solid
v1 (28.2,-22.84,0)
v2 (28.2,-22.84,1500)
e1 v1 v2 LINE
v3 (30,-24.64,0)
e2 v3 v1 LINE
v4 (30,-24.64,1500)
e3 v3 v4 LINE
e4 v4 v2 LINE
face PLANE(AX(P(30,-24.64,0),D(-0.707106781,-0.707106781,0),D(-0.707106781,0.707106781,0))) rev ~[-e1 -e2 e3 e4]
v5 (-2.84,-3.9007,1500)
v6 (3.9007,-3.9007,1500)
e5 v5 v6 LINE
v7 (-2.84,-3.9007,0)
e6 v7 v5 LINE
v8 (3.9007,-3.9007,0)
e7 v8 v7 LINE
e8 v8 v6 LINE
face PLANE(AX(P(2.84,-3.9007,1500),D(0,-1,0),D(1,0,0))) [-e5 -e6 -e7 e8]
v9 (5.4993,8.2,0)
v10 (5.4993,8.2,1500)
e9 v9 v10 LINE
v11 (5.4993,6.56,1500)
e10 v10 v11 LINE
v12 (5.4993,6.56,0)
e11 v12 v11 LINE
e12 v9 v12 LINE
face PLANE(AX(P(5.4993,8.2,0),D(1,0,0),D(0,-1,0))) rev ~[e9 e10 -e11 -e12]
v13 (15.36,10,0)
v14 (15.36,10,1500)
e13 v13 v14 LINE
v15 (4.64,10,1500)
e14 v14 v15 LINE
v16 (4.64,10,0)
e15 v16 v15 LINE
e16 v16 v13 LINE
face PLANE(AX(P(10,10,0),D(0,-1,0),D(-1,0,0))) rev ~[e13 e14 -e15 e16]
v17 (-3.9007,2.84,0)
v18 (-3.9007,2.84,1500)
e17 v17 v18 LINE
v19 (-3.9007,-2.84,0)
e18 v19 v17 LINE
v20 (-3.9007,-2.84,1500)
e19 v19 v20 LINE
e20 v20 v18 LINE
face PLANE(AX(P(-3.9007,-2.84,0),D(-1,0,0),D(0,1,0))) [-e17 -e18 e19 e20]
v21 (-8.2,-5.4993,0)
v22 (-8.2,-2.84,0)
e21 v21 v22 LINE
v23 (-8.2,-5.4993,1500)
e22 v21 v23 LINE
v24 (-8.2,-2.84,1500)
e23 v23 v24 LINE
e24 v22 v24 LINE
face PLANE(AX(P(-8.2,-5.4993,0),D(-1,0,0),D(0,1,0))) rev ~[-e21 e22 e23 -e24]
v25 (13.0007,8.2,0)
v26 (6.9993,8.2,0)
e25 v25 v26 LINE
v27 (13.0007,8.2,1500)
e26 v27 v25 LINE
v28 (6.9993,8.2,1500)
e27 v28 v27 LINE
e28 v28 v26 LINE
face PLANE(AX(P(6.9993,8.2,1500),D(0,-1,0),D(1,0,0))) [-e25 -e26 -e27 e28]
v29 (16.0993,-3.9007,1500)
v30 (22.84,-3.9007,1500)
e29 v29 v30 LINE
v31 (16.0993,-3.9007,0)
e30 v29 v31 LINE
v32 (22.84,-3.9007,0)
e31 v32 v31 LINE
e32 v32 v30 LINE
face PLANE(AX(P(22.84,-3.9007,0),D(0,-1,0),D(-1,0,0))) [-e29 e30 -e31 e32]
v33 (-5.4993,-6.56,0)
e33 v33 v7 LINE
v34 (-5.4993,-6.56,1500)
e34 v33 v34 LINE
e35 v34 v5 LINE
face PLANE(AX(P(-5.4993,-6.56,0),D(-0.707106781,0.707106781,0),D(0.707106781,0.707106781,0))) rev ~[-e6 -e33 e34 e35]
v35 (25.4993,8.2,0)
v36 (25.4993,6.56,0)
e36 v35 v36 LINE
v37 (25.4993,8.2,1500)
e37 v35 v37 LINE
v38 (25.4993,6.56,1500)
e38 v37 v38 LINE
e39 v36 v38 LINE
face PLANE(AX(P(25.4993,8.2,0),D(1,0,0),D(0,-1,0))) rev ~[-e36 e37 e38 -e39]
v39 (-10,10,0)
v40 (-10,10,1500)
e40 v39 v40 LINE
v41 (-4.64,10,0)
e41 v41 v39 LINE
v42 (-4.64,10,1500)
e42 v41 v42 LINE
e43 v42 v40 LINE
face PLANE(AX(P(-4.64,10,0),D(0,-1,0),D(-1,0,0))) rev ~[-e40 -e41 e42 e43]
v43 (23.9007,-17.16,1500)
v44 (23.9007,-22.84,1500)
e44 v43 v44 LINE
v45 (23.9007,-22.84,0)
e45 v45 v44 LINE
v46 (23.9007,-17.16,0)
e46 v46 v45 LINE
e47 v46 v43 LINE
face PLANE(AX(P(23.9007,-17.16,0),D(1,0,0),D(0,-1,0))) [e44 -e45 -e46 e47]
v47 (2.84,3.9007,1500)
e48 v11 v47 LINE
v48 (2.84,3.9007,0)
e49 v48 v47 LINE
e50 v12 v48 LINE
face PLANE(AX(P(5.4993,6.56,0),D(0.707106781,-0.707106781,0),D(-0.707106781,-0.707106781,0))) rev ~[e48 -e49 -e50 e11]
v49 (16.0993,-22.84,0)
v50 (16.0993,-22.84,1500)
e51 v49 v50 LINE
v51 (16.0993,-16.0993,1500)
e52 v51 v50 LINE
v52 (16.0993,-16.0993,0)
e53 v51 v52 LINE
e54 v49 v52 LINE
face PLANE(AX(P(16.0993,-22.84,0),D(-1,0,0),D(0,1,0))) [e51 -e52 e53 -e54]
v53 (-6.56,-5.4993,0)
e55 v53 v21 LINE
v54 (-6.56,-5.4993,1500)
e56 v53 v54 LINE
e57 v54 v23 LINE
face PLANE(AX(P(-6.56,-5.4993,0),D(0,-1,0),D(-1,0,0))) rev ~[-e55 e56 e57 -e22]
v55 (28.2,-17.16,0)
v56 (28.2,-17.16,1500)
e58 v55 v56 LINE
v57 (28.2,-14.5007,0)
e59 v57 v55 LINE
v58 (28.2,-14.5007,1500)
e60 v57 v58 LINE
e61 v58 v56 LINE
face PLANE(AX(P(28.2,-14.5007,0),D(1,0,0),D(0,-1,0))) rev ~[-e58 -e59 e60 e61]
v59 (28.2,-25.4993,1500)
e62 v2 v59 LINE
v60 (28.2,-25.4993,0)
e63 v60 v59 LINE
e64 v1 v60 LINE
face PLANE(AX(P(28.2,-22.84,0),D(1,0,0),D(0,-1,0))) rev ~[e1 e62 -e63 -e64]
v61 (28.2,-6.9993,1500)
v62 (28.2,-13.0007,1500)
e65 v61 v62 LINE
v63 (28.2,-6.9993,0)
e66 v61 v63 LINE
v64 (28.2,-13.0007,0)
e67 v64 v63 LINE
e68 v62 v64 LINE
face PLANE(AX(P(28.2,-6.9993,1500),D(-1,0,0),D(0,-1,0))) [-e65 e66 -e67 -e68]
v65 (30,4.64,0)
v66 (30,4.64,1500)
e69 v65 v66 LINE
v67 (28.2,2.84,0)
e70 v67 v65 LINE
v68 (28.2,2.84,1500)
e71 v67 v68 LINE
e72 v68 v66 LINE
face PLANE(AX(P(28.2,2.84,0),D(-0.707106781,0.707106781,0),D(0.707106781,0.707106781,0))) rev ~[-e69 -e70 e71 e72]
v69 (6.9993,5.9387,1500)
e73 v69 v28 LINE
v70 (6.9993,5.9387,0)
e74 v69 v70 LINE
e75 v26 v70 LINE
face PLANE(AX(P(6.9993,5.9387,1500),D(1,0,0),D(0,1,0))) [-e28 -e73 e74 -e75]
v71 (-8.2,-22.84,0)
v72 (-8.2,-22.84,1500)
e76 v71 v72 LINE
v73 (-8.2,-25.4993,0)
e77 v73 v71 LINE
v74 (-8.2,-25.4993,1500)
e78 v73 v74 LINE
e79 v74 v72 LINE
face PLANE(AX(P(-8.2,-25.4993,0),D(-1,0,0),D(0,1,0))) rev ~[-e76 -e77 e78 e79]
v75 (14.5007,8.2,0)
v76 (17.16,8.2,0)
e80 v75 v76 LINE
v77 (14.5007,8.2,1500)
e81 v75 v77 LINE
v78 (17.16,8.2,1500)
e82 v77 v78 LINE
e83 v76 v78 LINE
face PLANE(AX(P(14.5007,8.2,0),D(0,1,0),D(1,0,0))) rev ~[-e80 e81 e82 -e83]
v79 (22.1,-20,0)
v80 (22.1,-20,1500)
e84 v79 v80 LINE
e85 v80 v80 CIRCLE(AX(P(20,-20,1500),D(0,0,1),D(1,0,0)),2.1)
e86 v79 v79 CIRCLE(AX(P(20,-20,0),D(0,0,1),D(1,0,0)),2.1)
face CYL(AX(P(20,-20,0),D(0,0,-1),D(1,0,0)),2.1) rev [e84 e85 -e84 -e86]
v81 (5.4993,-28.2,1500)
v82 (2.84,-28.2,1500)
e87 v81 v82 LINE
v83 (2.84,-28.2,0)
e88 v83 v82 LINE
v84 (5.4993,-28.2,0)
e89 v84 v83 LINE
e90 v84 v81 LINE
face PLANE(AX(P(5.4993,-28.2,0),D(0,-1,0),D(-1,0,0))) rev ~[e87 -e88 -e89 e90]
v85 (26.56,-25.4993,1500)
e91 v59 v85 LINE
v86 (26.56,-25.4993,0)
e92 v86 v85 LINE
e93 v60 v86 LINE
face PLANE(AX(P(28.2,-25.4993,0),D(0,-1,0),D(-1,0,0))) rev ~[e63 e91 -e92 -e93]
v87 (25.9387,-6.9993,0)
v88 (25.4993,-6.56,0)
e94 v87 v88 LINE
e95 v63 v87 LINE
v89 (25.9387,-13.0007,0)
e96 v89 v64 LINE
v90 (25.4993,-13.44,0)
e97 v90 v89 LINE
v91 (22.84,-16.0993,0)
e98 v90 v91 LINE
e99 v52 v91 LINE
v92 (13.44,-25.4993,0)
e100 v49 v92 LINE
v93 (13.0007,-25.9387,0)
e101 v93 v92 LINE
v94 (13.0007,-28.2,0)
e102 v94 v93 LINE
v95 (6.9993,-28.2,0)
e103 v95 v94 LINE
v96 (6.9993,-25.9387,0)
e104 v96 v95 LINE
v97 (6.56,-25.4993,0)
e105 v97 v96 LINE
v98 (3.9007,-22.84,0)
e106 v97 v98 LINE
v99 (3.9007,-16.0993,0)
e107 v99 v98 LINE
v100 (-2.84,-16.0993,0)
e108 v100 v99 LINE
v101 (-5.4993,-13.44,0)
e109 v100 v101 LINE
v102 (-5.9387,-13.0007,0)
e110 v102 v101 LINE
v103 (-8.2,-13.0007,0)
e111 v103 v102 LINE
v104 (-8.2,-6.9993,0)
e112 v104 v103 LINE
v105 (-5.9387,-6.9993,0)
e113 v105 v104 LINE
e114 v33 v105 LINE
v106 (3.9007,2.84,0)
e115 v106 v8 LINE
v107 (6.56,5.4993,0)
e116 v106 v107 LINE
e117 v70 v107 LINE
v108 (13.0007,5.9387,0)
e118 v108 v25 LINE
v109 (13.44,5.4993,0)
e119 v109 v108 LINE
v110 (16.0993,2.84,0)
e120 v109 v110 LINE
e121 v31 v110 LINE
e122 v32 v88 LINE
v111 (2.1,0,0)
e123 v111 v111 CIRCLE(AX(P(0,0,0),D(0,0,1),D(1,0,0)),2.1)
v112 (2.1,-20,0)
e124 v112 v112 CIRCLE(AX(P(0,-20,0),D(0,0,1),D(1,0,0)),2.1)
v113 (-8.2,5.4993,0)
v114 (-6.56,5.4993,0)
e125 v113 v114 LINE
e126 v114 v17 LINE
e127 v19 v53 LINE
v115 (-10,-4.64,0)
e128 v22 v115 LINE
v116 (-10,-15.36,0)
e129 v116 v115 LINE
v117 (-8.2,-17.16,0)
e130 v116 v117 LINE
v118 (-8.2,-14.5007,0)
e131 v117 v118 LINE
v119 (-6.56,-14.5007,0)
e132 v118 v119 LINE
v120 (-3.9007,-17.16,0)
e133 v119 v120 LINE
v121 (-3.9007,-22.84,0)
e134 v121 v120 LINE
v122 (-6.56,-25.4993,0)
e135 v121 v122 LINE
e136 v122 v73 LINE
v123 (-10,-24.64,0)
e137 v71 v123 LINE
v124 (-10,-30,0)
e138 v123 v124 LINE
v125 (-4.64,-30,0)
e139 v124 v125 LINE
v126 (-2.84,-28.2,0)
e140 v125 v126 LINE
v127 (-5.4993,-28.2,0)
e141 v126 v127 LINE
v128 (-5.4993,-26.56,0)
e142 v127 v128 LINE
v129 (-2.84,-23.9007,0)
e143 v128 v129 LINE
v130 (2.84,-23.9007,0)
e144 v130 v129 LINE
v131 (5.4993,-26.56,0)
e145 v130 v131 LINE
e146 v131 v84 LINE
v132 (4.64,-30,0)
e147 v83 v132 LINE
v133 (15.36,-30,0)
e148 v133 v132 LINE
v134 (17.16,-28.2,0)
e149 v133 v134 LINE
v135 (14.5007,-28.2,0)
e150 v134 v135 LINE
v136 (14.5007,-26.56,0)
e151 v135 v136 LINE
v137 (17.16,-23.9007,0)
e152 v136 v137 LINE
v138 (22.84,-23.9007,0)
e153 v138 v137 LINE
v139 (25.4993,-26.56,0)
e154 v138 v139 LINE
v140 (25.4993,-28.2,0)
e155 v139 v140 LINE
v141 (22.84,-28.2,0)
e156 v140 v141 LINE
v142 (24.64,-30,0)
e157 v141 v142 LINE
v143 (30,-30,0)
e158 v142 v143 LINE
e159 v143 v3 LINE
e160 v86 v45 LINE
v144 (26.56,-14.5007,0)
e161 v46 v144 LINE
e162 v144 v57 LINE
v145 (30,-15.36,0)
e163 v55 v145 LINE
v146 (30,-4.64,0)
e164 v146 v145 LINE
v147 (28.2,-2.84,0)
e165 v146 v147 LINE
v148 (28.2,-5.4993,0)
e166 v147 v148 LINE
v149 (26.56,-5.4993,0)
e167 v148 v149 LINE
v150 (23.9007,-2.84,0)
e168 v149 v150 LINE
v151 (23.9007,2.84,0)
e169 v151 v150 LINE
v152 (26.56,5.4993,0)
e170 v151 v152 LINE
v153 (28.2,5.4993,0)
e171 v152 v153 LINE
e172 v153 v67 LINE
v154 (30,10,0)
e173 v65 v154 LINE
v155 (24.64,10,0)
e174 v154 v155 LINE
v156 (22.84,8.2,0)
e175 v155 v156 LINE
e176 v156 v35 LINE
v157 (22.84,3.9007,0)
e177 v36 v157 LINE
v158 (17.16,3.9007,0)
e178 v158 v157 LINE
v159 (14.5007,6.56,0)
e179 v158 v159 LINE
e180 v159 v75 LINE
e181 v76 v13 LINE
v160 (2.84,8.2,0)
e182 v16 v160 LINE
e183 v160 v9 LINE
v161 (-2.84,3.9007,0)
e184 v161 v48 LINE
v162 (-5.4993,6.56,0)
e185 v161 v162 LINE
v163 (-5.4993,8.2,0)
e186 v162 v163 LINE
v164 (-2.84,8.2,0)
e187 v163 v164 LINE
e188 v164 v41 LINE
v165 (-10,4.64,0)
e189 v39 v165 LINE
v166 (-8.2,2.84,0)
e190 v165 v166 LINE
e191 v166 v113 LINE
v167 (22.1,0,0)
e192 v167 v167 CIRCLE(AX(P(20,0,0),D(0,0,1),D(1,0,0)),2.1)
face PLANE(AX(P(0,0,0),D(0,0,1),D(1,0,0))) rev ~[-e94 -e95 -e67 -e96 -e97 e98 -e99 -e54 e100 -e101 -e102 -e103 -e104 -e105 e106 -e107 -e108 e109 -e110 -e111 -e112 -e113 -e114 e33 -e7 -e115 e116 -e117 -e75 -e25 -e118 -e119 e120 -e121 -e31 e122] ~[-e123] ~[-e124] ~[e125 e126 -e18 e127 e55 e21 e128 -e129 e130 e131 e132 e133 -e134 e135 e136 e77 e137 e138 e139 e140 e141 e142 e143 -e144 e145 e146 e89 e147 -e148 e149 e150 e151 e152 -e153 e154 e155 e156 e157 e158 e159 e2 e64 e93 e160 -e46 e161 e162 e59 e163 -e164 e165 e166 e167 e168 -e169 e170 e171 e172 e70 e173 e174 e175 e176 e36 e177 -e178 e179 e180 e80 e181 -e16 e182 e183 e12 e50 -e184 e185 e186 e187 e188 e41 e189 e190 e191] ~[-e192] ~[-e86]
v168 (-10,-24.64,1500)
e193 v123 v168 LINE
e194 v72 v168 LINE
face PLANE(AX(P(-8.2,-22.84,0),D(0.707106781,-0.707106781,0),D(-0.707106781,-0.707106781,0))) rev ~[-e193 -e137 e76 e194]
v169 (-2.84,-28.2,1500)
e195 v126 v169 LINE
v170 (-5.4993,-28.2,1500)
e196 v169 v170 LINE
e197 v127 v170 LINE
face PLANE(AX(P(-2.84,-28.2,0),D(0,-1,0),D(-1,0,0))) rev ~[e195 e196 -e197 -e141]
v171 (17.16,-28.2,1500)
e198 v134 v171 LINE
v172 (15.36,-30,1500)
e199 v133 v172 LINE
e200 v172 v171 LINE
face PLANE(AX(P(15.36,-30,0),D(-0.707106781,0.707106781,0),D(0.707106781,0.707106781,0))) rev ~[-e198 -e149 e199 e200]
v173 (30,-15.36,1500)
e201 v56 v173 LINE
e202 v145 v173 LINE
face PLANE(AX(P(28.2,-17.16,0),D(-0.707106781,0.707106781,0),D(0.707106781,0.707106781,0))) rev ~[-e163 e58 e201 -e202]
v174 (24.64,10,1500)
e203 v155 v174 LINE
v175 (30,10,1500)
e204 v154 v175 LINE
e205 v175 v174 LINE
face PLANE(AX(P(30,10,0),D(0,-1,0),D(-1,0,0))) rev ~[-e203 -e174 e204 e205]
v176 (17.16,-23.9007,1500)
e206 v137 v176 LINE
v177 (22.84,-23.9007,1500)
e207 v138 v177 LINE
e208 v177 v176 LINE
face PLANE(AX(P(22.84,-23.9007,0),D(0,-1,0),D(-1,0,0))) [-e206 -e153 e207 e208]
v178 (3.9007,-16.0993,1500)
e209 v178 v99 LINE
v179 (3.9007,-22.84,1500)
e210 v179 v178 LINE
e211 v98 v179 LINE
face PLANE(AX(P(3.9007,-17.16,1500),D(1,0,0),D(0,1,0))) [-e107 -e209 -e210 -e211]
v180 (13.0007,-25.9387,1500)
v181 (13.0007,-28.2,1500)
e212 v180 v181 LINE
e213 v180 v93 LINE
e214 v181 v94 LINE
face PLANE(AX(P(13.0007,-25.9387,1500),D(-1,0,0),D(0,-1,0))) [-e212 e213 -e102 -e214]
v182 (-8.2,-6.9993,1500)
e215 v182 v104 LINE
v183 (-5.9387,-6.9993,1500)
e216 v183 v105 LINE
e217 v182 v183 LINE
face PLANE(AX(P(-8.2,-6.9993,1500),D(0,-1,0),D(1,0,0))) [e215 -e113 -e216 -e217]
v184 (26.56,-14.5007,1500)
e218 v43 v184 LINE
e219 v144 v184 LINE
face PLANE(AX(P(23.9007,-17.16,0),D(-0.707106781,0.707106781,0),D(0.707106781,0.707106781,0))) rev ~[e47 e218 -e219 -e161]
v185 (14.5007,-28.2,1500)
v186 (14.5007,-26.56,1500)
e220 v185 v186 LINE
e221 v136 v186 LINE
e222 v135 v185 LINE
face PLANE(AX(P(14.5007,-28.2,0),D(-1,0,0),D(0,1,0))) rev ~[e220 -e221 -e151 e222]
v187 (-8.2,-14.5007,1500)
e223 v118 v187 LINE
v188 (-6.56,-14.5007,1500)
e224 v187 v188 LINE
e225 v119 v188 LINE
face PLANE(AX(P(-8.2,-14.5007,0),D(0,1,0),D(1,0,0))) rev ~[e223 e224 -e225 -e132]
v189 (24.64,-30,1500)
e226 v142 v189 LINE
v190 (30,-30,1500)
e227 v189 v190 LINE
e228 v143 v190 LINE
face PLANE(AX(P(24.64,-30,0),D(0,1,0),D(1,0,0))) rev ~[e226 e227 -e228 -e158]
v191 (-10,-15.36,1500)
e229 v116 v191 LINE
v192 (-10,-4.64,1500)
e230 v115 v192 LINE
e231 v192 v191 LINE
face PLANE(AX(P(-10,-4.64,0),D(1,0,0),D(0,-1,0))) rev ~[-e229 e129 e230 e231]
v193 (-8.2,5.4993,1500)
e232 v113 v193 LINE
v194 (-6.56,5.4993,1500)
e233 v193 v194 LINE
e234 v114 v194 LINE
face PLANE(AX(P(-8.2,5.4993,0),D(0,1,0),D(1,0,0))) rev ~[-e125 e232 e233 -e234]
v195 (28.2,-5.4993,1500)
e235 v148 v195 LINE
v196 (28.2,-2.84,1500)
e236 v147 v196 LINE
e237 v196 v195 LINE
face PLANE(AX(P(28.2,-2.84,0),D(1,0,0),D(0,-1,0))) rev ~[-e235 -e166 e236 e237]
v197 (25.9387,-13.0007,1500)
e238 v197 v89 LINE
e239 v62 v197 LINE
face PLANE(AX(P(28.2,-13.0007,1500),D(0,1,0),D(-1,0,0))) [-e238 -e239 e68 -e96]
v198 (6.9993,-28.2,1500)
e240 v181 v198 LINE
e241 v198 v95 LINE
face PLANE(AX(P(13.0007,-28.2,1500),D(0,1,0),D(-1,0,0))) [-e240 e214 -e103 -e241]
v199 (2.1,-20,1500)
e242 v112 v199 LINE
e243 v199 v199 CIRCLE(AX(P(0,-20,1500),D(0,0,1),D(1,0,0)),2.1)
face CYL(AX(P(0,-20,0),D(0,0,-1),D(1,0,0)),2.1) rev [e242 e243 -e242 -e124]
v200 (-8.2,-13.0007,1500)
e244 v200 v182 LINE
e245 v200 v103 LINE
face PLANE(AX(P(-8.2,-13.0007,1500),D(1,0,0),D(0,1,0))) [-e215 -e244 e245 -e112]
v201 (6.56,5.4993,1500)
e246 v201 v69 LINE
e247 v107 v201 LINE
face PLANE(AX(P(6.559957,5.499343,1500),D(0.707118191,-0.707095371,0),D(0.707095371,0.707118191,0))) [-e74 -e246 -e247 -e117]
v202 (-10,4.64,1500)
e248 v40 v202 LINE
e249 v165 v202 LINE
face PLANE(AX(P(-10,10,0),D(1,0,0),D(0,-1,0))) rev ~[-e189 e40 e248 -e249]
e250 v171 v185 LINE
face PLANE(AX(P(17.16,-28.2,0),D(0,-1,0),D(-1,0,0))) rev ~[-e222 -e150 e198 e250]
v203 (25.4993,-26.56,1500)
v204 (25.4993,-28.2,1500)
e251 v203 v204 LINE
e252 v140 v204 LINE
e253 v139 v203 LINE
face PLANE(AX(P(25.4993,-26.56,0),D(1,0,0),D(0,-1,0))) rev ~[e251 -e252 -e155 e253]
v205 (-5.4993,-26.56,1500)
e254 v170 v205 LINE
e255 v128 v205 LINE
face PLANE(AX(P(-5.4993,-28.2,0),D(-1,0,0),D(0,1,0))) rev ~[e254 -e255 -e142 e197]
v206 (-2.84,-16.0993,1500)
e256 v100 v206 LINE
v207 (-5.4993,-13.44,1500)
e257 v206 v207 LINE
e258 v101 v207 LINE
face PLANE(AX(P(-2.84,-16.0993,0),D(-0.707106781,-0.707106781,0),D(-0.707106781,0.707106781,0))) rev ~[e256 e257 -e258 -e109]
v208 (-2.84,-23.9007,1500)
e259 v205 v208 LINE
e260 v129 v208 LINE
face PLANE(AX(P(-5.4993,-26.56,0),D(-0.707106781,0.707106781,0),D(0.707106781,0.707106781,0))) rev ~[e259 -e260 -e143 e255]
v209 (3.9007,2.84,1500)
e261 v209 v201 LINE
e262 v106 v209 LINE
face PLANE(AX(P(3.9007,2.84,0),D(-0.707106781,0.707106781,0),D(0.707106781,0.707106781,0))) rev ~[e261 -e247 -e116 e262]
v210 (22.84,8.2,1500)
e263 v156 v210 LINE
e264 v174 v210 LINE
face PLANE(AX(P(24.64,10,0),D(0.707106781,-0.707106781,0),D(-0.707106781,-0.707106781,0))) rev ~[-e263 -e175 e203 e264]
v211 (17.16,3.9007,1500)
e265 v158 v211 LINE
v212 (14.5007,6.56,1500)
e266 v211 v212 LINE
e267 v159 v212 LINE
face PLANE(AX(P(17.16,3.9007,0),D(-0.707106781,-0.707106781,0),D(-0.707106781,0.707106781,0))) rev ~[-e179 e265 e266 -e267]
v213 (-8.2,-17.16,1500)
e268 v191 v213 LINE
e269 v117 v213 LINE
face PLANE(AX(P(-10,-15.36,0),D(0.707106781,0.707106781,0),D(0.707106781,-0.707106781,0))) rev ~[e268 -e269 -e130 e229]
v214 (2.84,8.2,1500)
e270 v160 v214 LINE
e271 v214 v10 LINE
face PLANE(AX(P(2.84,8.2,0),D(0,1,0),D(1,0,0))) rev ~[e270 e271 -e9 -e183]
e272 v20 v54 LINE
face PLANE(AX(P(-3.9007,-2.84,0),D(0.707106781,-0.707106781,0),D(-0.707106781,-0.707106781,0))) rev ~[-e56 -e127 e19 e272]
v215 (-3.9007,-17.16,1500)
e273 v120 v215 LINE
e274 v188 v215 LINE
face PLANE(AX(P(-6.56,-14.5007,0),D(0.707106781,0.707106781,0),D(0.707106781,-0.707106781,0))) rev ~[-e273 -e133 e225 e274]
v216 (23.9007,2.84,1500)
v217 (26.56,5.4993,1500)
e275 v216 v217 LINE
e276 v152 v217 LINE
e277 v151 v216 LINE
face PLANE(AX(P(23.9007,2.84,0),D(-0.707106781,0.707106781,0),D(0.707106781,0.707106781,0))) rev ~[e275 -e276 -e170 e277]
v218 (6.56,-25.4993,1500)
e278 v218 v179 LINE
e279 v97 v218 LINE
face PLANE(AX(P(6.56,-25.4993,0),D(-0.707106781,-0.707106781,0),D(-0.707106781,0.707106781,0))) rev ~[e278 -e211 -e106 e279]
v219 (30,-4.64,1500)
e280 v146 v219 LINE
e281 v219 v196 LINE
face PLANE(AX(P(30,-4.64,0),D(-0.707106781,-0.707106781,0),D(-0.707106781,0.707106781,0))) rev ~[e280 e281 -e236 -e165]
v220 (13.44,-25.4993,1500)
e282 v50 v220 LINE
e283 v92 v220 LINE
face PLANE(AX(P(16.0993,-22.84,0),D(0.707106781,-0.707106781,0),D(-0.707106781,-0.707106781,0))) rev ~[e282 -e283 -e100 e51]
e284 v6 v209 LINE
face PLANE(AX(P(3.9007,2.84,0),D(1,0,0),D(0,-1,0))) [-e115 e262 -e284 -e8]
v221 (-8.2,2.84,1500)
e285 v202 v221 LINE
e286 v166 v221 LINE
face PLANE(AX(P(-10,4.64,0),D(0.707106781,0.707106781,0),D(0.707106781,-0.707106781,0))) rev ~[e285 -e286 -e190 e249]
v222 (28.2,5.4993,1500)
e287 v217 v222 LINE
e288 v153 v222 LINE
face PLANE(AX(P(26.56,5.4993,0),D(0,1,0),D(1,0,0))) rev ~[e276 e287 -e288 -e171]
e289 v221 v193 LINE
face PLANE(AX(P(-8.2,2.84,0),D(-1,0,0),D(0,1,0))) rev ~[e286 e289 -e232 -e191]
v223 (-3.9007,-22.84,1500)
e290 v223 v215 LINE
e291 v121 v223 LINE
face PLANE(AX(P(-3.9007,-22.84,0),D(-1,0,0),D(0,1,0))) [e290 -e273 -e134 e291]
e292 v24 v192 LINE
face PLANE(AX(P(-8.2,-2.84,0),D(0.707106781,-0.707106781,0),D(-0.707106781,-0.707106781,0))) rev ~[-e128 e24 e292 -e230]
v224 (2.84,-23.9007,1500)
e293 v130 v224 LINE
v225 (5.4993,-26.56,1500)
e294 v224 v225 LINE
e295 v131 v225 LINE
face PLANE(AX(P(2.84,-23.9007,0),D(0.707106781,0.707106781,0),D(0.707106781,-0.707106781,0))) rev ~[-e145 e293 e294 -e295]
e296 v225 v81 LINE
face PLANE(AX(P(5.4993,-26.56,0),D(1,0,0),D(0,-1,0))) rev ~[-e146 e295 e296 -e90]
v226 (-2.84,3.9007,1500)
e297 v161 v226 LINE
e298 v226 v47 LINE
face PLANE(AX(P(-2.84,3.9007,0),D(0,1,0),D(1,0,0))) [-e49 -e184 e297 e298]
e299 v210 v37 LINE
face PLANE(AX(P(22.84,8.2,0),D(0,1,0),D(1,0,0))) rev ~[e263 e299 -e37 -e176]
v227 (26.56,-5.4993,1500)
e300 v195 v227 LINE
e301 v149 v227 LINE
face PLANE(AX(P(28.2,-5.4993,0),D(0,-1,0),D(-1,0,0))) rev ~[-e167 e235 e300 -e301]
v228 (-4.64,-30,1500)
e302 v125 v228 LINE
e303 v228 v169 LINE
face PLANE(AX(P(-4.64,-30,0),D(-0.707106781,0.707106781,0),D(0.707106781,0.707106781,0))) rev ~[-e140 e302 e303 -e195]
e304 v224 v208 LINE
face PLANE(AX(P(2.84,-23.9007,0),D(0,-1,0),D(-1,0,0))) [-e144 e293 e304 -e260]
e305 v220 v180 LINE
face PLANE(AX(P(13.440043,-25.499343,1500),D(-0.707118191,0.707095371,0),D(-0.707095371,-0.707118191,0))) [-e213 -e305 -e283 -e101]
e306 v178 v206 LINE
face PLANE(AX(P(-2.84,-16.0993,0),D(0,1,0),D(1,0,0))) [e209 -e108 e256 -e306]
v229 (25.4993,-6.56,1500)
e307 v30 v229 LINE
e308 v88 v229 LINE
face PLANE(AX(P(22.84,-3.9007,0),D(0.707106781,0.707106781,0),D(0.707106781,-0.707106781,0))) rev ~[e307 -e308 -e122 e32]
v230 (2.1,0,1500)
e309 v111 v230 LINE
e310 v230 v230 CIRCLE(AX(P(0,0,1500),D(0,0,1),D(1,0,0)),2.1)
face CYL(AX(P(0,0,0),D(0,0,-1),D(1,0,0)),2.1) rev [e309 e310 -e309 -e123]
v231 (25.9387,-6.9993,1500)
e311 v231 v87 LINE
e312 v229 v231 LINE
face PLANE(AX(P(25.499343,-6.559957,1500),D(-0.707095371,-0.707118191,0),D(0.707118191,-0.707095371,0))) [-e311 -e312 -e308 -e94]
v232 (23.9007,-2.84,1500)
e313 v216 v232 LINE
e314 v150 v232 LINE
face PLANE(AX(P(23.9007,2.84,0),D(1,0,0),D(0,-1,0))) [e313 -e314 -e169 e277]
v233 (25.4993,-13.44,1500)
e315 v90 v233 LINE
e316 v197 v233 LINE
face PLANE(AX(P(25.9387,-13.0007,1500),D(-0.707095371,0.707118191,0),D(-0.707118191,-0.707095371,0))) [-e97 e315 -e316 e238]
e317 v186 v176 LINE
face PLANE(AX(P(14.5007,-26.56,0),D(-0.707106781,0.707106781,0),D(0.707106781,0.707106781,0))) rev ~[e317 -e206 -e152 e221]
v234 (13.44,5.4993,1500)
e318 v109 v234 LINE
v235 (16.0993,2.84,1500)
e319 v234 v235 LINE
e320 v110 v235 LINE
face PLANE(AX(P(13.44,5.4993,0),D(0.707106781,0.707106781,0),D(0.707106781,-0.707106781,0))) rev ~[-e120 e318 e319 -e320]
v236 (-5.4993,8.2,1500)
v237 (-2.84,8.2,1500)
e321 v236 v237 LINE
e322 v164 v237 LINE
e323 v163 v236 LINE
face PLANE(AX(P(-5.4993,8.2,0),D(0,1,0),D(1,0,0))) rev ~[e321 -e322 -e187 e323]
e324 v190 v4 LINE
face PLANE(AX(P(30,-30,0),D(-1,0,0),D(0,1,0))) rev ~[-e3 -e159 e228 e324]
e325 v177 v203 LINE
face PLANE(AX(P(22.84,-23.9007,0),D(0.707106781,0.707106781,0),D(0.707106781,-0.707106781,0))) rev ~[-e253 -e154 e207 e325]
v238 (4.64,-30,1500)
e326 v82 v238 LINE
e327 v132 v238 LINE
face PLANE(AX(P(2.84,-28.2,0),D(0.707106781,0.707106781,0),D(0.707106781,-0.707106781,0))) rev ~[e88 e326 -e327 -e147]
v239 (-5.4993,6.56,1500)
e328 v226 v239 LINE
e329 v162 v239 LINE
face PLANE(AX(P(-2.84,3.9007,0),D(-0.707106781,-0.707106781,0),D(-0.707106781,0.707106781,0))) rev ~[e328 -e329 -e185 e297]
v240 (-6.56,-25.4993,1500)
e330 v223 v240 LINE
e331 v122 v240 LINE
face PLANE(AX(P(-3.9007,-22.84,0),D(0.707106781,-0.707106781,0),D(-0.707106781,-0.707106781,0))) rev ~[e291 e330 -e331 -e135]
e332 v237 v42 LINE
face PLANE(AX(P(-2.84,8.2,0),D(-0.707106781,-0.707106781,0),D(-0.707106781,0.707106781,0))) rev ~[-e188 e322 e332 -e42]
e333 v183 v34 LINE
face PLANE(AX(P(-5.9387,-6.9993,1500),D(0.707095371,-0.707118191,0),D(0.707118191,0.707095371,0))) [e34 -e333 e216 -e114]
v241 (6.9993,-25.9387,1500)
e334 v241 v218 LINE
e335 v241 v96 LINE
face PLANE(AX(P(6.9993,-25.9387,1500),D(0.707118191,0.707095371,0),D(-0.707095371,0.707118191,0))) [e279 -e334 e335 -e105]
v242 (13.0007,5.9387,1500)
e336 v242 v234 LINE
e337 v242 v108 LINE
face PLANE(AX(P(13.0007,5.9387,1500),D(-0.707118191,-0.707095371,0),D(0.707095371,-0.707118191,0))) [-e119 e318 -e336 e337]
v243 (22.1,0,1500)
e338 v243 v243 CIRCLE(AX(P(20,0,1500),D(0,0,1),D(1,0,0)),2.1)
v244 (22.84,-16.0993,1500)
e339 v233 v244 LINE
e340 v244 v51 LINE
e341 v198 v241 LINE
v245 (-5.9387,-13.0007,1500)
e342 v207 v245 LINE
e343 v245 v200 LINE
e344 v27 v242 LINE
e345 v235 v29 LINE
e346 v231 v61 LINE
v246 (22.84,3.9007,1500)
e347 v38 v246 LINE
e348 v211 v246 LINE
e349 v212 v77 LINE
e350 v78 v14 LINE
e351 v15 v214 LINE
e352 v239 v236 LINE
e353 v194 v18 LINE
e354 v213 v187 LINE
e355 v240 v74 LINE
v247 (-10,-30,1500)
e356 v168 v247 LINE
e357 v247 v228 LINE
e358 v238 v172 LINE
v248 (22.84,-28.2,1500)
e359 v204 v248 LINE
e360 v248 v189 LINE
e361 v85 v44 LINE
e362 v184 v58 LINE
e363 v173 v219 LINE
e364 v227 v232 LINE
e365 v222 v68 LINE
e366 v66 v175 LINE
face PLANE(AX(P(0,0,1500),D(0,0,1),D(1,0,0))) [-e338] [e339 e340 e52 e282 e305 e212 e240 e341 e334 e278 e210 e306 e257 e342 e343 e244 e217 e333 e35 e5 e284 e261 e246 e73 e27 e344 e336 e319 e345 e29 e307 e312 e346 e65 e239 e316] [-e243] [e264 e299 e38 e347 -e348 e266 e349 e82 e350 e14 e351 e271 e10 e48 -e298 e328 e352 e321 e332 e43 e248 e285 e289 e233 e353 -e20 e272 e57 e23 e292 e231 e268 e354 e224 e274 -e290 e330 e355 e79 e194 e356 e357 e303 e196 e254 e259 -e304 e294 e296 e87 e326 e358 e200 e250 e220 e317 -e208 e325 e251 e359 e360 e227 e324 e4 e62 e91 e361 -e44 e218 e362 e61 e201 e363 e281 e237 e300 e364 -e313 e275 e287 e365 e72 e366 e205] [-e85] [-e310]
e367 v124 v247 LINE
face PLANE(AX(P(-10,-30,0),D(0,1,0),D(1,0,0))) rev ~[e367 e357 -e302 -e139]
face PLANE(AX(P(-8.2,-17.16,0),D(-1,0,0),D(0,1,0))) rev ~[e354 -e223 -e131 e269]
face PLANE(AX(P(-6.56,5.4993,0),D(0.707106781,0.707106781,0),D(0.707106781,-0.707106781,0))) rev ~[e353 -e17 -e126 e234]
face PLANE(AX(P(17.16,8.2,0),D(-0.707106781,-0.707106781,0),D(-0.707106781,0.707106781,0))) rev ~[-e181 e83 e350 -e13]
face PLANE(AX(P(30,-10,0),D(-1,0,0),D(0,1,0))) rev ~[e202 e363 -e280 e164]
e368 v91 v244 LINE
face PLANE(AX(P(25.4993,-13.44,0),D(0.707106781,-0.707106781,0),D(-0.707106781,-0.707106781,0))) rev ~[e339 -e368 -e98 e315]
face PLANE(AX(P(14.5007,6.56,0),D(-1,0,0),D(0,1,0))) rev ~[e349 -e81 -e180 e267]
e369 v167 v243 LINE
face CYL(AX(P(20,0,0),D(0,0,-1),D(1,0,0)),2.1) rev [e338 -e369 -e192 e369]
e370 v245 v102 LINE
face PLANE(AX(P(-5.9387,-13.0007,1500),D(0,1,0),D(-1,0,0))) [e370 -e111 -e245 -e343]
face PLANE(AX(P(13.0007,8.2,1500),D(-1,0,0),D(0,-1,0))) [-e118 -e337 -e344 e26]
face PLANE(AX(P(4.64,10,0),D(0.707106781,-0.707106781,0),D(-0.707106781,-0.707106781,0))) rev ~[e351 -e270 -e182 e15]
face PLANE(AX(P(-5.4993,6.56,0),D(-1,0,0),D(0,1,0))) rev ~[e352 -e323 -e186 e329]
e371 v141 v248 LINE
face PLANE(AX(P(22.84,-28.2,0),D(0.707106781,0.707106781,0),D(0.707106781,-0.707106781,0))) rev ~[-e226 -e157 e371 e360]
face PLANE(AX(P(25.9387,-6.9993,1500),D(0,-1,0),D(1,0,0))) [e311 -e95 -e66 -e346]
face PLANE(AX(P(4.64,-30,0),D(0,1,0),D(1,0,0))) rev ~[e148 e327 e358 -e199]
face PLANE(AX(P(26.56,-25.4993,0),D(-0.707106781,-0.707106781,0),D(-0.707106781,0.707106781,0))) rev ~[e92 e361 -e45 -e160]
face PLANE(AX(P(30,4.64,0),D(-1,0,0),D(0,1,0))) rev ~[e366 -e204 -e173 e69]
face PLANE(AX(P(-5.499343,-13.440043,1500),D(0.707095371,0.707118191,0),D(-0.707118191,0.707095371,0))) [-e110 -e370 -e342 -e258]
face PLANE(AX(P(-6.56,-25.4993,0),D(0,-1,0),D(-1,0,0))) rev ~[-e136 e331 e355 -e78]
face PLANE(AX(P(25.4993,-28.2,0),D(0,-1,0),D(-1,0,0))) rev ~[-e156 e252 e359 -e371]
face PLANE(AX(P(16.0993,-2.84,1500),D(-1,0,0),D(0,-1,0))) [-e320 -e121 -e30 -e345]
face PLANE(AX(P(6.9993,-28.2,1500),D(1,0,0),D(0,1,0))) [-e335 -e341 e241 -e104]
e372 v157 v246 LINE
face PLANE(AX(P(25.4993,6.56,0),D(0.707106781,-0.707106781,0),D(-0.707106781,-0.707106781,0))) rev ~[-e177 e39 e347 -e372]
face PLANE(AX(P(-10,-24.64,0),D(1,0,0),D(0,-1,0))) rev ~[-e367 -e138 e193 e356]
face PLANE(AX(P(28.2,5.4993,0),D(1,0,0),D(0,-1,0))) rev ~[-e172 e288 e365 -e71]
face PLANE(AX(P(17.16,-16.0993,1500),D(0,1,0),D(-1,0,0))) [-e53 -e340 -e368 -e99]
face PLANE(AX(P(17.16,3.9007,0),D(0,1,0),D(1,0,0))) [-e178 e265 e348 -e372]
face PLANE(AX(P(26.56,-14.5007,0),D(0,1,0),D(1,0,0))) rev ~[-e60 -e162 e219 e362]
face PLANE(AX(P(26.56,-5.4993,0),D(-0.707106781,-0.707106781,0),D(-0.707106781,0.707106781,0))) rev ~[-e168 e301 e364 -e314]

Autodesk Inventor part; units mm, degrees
ref_plane "YZ Plane" through (0, 0, 0) normal (1, 0, 0) x (0, 1, 0)
ref_plane "XZ Plane" through (0, 0, 0) normal (0, 1, 0) x (-1, 0, 0)
ref_plane "XY Plane" through (0, 0, 0) normal (0, 0, 1) x (1, 0, 0)
sketch "Sketch1" plane through (0, 0, 0) normal (0, 0, 1) x (1, 0, 0)
  line L0 (-3.9007, 3.9007) -> (3.9007, 3.9007)
  line L1 (3.9007, 3.9007) -> (3.9007, -3.9007)
  line L2 (3.9007, -3.9007) -> (-3.9007, -3.9007)
  line L3 (-3.9007, -3.9007) -> (-3.9007, 3.9007)
  line L4 (0, 3.9007) -> (0, -3.9007) construction
  line L5 (-3.9007, 0) -> (3.9007, 0) construction
  circle A0 centre (0, 0) radius 2.1
  line L6 (0, 0) -> (-16.1173, 16.1173) construction
  line L7 (0, 0) -> (22.7933, 0) construction
  line L8 (-2.84, 3.9007) -> (-5.4993, 6.56)
  line L9 (-5.4993, 6.56) -> (-5.4993, 8.2)
  line L10 (-5.4993, 8.2) -> (-2.84, 8.2)
  line L11 (-2.84, 8.2) -> (-4.64, 10)
  line L12 (-4.64, 10) -> (-10, 10)
  line L13 (-10, 10) -> (-10, 4.64)
  line L14 (-10, 4.64) -> (-8.2, 2.84)
  line L15 (-8.2, 2.84) -> (-8.2, 5.4993)
  line L16 (-8.2, 5.4993) -> (-6.56, 5.4993)
  line L17 (-6.56, 5.4993) -> (-3.9007, 2.84)
  line L18 (-3.9007, 2.84) -> (-11.3102, 2.84) construction
  line L19 (-2.84, 3.9007) -> (-3.9007, 3.9007)
  line L20 (-3.9007, 2.84) -> (-3.9007, 3.9007)
  line L21 (-3.9007, -2.84) -> (-6.56, -5.4993)
  line L22 (-6.56, -5.4993) -> (-8.2, -5.4993)
  line L23 (-8.2, -5.4993) -> (-8.2, -2.84)
  line L24 (-8.2, -2.84) -> (-10, -4.64)
  line L25 (-10, -4.64) -> (-10, -10)
  line L26 (-10, -10) -> (-4.64, -10)
  line L27 (-4.64, -10) -> (-2.84, -8.2)
  line L28 (-2.84, -8.2) -> (-5.4993, -8.2)
  line L29 (-5.4993, -8.2) -> (-5.4993, -6.56)
  line L30 (-5.4993, -6.56) -> (-2.84, -3.9007)
  line L31 (-3.9007, -2.84) -> (-3.9007, -3.9007)
  line L32 (-2.84, -3.9007) -> (-3.9007, -3.9007)
  line L33 (2.84, -3.9007) -> (5.4993, -6.56)
  line L34 (5.4993, -6.56) -> (5.4993, -8.2)
  line L35 (5.4993, -8.2) -> (2.84, -8.2)
  line L36 (2.84, -8.2) -> (4.64, -10)
  line L37 (4.64, -10) -> (10, -10)
  line L38 (10, -10) -> (10, -4.64)
  line L39 (10, -4.64) -> (8.2, -2.84)
  line L40 (8.2, -2.84) -> (8.2, -5.4993)
  line L41 (8.2, -5.4993) -> (6.56, -5.4993)
  line L42 (6.56, -5.4993) -> (3.9007, -2.84)
  line L43 (2.84, -3.9007) -> (3.9007, -3.9007)
  line L44 (3.9007, -2.84) -> (3.9007, -3.9007)
  line L45 (3.9007, 2.84) -> (6.56, 5.4993)
  line L46 (6.56, 5.4993) -> (8.2, 5.4993)
  line L47 (8.2, 5.4993) -> (8.2, 2.84)
  line L48 (8.2, 2.84) -> (10, 4.64)
  line L49 (10, 4.64) -> (10, 10)
  line L50 (10, 10) -> (4.64, 10)
  line L51 (4.64, 10) -> (2.84, 8.2)
  line L52 (2.84, 8.2) -> (5.4993, 8.2)
  line L53 (5.4993, 8.2) -> (5.4993, 6.56)
  line L54 (5.4993, 6.56) -> (2.84, 3.9007)
  line L55 (3.9007, 2.84) -> (3.9007, 3.9007)
  line L56 (2.84, 3.9007) -> (3.9007, 3.9007)
  dimension "d7" = 4.2
  dimension "d8" = 135
  dimension "d9" = 1.5
  dimension "d10" = 1.64
  dimension "d11" = 1.8
  dimension "d12" = 2.84
  dimension "d13" = 10
  dimension "d16" = 360
extrude "Extrusion1" add sketch "Sketch1" along normal blind 1500
pattern_linear "Rectangular Pattern1" count 2 spacing 20 along (0, -1, 0) count 2 spacing 20 along (1, 0, 0) of "Extrusion1"
sketch "Sketch2" plane through (0, 0, 1500) normal (0, 0, 1) x (1, 0, 0)
  line L0 (-6.56, -5.4993) -> (-8.2, -5.4993) projected
  line L1 (-8.2, -5.4993) -> (-8.2, -2.84) projected
  line L2 (-8.2, -14.5007) -> (-6.56, -14.5007) projected
  line L3 (5.4993, -11.8) -> (5.4993, -13.44) projected
  line L4 (-2.84, -16.0993) -> (-5.4993, -13.44) projected
  line L5 (-5.4993, -8.2) -> (-5.4993, -6.56) projected
  line L6 (-5.4993, -6.56) -> (-2.84, -3.9007) projected
  line L7 (2.84, -8.2) -> (4.64, -10) projected
  line L8 (-8.2, -6.9993) -> (-5.9387, -6.9993)
  line L9 (-5.9387, -6.9993) -> (-2.84, -3.9007)
  line L10 (-2.84, -3.9007) -> (12.9258, -3.9007)
  line L11 (12.9258, -16.0993) -> (-2.84, -16.0993)
  line L12 (-2.84, -16.0993) -> (-5.9387, -13.0007)
  line L13 (-5.9387, -13.0007) -> (-8.2, -13.0007)
  line L14 (-8.2, -13.0007) -> (-8.2, -6.9993)
  line L15 (2.84, -16.0993) -> (-2.84, -16.0993) projected
  line L16 (-2.84, -3.9007) -> (2.84, -3.9007) projected
  line L17 (12.9258, -16.0993) -> (12.9258, -3.9007)
  dimension "d23" = 1.5
  dimension "d26" = 1.5
extrude "Extrusion2" cut sketch "Sketch2" against normal up to next
ref_plane "Work Plane1" through (10, -15.36, 0) normal (1, 0, 0) x (0, 0, -1)
ref_plane "Work Plane2" through (4.64, -10, 1500) normal (0, 1, 0) x (1, 0, 0)
pattern_circular "Circular Pattern1" count 4 over 360 about axis through (10, -10, 0) along (0, 0, 1) of "Extrusion2"
equation "\"d26\" = d23"
properties part number "40x40x1500mm"
